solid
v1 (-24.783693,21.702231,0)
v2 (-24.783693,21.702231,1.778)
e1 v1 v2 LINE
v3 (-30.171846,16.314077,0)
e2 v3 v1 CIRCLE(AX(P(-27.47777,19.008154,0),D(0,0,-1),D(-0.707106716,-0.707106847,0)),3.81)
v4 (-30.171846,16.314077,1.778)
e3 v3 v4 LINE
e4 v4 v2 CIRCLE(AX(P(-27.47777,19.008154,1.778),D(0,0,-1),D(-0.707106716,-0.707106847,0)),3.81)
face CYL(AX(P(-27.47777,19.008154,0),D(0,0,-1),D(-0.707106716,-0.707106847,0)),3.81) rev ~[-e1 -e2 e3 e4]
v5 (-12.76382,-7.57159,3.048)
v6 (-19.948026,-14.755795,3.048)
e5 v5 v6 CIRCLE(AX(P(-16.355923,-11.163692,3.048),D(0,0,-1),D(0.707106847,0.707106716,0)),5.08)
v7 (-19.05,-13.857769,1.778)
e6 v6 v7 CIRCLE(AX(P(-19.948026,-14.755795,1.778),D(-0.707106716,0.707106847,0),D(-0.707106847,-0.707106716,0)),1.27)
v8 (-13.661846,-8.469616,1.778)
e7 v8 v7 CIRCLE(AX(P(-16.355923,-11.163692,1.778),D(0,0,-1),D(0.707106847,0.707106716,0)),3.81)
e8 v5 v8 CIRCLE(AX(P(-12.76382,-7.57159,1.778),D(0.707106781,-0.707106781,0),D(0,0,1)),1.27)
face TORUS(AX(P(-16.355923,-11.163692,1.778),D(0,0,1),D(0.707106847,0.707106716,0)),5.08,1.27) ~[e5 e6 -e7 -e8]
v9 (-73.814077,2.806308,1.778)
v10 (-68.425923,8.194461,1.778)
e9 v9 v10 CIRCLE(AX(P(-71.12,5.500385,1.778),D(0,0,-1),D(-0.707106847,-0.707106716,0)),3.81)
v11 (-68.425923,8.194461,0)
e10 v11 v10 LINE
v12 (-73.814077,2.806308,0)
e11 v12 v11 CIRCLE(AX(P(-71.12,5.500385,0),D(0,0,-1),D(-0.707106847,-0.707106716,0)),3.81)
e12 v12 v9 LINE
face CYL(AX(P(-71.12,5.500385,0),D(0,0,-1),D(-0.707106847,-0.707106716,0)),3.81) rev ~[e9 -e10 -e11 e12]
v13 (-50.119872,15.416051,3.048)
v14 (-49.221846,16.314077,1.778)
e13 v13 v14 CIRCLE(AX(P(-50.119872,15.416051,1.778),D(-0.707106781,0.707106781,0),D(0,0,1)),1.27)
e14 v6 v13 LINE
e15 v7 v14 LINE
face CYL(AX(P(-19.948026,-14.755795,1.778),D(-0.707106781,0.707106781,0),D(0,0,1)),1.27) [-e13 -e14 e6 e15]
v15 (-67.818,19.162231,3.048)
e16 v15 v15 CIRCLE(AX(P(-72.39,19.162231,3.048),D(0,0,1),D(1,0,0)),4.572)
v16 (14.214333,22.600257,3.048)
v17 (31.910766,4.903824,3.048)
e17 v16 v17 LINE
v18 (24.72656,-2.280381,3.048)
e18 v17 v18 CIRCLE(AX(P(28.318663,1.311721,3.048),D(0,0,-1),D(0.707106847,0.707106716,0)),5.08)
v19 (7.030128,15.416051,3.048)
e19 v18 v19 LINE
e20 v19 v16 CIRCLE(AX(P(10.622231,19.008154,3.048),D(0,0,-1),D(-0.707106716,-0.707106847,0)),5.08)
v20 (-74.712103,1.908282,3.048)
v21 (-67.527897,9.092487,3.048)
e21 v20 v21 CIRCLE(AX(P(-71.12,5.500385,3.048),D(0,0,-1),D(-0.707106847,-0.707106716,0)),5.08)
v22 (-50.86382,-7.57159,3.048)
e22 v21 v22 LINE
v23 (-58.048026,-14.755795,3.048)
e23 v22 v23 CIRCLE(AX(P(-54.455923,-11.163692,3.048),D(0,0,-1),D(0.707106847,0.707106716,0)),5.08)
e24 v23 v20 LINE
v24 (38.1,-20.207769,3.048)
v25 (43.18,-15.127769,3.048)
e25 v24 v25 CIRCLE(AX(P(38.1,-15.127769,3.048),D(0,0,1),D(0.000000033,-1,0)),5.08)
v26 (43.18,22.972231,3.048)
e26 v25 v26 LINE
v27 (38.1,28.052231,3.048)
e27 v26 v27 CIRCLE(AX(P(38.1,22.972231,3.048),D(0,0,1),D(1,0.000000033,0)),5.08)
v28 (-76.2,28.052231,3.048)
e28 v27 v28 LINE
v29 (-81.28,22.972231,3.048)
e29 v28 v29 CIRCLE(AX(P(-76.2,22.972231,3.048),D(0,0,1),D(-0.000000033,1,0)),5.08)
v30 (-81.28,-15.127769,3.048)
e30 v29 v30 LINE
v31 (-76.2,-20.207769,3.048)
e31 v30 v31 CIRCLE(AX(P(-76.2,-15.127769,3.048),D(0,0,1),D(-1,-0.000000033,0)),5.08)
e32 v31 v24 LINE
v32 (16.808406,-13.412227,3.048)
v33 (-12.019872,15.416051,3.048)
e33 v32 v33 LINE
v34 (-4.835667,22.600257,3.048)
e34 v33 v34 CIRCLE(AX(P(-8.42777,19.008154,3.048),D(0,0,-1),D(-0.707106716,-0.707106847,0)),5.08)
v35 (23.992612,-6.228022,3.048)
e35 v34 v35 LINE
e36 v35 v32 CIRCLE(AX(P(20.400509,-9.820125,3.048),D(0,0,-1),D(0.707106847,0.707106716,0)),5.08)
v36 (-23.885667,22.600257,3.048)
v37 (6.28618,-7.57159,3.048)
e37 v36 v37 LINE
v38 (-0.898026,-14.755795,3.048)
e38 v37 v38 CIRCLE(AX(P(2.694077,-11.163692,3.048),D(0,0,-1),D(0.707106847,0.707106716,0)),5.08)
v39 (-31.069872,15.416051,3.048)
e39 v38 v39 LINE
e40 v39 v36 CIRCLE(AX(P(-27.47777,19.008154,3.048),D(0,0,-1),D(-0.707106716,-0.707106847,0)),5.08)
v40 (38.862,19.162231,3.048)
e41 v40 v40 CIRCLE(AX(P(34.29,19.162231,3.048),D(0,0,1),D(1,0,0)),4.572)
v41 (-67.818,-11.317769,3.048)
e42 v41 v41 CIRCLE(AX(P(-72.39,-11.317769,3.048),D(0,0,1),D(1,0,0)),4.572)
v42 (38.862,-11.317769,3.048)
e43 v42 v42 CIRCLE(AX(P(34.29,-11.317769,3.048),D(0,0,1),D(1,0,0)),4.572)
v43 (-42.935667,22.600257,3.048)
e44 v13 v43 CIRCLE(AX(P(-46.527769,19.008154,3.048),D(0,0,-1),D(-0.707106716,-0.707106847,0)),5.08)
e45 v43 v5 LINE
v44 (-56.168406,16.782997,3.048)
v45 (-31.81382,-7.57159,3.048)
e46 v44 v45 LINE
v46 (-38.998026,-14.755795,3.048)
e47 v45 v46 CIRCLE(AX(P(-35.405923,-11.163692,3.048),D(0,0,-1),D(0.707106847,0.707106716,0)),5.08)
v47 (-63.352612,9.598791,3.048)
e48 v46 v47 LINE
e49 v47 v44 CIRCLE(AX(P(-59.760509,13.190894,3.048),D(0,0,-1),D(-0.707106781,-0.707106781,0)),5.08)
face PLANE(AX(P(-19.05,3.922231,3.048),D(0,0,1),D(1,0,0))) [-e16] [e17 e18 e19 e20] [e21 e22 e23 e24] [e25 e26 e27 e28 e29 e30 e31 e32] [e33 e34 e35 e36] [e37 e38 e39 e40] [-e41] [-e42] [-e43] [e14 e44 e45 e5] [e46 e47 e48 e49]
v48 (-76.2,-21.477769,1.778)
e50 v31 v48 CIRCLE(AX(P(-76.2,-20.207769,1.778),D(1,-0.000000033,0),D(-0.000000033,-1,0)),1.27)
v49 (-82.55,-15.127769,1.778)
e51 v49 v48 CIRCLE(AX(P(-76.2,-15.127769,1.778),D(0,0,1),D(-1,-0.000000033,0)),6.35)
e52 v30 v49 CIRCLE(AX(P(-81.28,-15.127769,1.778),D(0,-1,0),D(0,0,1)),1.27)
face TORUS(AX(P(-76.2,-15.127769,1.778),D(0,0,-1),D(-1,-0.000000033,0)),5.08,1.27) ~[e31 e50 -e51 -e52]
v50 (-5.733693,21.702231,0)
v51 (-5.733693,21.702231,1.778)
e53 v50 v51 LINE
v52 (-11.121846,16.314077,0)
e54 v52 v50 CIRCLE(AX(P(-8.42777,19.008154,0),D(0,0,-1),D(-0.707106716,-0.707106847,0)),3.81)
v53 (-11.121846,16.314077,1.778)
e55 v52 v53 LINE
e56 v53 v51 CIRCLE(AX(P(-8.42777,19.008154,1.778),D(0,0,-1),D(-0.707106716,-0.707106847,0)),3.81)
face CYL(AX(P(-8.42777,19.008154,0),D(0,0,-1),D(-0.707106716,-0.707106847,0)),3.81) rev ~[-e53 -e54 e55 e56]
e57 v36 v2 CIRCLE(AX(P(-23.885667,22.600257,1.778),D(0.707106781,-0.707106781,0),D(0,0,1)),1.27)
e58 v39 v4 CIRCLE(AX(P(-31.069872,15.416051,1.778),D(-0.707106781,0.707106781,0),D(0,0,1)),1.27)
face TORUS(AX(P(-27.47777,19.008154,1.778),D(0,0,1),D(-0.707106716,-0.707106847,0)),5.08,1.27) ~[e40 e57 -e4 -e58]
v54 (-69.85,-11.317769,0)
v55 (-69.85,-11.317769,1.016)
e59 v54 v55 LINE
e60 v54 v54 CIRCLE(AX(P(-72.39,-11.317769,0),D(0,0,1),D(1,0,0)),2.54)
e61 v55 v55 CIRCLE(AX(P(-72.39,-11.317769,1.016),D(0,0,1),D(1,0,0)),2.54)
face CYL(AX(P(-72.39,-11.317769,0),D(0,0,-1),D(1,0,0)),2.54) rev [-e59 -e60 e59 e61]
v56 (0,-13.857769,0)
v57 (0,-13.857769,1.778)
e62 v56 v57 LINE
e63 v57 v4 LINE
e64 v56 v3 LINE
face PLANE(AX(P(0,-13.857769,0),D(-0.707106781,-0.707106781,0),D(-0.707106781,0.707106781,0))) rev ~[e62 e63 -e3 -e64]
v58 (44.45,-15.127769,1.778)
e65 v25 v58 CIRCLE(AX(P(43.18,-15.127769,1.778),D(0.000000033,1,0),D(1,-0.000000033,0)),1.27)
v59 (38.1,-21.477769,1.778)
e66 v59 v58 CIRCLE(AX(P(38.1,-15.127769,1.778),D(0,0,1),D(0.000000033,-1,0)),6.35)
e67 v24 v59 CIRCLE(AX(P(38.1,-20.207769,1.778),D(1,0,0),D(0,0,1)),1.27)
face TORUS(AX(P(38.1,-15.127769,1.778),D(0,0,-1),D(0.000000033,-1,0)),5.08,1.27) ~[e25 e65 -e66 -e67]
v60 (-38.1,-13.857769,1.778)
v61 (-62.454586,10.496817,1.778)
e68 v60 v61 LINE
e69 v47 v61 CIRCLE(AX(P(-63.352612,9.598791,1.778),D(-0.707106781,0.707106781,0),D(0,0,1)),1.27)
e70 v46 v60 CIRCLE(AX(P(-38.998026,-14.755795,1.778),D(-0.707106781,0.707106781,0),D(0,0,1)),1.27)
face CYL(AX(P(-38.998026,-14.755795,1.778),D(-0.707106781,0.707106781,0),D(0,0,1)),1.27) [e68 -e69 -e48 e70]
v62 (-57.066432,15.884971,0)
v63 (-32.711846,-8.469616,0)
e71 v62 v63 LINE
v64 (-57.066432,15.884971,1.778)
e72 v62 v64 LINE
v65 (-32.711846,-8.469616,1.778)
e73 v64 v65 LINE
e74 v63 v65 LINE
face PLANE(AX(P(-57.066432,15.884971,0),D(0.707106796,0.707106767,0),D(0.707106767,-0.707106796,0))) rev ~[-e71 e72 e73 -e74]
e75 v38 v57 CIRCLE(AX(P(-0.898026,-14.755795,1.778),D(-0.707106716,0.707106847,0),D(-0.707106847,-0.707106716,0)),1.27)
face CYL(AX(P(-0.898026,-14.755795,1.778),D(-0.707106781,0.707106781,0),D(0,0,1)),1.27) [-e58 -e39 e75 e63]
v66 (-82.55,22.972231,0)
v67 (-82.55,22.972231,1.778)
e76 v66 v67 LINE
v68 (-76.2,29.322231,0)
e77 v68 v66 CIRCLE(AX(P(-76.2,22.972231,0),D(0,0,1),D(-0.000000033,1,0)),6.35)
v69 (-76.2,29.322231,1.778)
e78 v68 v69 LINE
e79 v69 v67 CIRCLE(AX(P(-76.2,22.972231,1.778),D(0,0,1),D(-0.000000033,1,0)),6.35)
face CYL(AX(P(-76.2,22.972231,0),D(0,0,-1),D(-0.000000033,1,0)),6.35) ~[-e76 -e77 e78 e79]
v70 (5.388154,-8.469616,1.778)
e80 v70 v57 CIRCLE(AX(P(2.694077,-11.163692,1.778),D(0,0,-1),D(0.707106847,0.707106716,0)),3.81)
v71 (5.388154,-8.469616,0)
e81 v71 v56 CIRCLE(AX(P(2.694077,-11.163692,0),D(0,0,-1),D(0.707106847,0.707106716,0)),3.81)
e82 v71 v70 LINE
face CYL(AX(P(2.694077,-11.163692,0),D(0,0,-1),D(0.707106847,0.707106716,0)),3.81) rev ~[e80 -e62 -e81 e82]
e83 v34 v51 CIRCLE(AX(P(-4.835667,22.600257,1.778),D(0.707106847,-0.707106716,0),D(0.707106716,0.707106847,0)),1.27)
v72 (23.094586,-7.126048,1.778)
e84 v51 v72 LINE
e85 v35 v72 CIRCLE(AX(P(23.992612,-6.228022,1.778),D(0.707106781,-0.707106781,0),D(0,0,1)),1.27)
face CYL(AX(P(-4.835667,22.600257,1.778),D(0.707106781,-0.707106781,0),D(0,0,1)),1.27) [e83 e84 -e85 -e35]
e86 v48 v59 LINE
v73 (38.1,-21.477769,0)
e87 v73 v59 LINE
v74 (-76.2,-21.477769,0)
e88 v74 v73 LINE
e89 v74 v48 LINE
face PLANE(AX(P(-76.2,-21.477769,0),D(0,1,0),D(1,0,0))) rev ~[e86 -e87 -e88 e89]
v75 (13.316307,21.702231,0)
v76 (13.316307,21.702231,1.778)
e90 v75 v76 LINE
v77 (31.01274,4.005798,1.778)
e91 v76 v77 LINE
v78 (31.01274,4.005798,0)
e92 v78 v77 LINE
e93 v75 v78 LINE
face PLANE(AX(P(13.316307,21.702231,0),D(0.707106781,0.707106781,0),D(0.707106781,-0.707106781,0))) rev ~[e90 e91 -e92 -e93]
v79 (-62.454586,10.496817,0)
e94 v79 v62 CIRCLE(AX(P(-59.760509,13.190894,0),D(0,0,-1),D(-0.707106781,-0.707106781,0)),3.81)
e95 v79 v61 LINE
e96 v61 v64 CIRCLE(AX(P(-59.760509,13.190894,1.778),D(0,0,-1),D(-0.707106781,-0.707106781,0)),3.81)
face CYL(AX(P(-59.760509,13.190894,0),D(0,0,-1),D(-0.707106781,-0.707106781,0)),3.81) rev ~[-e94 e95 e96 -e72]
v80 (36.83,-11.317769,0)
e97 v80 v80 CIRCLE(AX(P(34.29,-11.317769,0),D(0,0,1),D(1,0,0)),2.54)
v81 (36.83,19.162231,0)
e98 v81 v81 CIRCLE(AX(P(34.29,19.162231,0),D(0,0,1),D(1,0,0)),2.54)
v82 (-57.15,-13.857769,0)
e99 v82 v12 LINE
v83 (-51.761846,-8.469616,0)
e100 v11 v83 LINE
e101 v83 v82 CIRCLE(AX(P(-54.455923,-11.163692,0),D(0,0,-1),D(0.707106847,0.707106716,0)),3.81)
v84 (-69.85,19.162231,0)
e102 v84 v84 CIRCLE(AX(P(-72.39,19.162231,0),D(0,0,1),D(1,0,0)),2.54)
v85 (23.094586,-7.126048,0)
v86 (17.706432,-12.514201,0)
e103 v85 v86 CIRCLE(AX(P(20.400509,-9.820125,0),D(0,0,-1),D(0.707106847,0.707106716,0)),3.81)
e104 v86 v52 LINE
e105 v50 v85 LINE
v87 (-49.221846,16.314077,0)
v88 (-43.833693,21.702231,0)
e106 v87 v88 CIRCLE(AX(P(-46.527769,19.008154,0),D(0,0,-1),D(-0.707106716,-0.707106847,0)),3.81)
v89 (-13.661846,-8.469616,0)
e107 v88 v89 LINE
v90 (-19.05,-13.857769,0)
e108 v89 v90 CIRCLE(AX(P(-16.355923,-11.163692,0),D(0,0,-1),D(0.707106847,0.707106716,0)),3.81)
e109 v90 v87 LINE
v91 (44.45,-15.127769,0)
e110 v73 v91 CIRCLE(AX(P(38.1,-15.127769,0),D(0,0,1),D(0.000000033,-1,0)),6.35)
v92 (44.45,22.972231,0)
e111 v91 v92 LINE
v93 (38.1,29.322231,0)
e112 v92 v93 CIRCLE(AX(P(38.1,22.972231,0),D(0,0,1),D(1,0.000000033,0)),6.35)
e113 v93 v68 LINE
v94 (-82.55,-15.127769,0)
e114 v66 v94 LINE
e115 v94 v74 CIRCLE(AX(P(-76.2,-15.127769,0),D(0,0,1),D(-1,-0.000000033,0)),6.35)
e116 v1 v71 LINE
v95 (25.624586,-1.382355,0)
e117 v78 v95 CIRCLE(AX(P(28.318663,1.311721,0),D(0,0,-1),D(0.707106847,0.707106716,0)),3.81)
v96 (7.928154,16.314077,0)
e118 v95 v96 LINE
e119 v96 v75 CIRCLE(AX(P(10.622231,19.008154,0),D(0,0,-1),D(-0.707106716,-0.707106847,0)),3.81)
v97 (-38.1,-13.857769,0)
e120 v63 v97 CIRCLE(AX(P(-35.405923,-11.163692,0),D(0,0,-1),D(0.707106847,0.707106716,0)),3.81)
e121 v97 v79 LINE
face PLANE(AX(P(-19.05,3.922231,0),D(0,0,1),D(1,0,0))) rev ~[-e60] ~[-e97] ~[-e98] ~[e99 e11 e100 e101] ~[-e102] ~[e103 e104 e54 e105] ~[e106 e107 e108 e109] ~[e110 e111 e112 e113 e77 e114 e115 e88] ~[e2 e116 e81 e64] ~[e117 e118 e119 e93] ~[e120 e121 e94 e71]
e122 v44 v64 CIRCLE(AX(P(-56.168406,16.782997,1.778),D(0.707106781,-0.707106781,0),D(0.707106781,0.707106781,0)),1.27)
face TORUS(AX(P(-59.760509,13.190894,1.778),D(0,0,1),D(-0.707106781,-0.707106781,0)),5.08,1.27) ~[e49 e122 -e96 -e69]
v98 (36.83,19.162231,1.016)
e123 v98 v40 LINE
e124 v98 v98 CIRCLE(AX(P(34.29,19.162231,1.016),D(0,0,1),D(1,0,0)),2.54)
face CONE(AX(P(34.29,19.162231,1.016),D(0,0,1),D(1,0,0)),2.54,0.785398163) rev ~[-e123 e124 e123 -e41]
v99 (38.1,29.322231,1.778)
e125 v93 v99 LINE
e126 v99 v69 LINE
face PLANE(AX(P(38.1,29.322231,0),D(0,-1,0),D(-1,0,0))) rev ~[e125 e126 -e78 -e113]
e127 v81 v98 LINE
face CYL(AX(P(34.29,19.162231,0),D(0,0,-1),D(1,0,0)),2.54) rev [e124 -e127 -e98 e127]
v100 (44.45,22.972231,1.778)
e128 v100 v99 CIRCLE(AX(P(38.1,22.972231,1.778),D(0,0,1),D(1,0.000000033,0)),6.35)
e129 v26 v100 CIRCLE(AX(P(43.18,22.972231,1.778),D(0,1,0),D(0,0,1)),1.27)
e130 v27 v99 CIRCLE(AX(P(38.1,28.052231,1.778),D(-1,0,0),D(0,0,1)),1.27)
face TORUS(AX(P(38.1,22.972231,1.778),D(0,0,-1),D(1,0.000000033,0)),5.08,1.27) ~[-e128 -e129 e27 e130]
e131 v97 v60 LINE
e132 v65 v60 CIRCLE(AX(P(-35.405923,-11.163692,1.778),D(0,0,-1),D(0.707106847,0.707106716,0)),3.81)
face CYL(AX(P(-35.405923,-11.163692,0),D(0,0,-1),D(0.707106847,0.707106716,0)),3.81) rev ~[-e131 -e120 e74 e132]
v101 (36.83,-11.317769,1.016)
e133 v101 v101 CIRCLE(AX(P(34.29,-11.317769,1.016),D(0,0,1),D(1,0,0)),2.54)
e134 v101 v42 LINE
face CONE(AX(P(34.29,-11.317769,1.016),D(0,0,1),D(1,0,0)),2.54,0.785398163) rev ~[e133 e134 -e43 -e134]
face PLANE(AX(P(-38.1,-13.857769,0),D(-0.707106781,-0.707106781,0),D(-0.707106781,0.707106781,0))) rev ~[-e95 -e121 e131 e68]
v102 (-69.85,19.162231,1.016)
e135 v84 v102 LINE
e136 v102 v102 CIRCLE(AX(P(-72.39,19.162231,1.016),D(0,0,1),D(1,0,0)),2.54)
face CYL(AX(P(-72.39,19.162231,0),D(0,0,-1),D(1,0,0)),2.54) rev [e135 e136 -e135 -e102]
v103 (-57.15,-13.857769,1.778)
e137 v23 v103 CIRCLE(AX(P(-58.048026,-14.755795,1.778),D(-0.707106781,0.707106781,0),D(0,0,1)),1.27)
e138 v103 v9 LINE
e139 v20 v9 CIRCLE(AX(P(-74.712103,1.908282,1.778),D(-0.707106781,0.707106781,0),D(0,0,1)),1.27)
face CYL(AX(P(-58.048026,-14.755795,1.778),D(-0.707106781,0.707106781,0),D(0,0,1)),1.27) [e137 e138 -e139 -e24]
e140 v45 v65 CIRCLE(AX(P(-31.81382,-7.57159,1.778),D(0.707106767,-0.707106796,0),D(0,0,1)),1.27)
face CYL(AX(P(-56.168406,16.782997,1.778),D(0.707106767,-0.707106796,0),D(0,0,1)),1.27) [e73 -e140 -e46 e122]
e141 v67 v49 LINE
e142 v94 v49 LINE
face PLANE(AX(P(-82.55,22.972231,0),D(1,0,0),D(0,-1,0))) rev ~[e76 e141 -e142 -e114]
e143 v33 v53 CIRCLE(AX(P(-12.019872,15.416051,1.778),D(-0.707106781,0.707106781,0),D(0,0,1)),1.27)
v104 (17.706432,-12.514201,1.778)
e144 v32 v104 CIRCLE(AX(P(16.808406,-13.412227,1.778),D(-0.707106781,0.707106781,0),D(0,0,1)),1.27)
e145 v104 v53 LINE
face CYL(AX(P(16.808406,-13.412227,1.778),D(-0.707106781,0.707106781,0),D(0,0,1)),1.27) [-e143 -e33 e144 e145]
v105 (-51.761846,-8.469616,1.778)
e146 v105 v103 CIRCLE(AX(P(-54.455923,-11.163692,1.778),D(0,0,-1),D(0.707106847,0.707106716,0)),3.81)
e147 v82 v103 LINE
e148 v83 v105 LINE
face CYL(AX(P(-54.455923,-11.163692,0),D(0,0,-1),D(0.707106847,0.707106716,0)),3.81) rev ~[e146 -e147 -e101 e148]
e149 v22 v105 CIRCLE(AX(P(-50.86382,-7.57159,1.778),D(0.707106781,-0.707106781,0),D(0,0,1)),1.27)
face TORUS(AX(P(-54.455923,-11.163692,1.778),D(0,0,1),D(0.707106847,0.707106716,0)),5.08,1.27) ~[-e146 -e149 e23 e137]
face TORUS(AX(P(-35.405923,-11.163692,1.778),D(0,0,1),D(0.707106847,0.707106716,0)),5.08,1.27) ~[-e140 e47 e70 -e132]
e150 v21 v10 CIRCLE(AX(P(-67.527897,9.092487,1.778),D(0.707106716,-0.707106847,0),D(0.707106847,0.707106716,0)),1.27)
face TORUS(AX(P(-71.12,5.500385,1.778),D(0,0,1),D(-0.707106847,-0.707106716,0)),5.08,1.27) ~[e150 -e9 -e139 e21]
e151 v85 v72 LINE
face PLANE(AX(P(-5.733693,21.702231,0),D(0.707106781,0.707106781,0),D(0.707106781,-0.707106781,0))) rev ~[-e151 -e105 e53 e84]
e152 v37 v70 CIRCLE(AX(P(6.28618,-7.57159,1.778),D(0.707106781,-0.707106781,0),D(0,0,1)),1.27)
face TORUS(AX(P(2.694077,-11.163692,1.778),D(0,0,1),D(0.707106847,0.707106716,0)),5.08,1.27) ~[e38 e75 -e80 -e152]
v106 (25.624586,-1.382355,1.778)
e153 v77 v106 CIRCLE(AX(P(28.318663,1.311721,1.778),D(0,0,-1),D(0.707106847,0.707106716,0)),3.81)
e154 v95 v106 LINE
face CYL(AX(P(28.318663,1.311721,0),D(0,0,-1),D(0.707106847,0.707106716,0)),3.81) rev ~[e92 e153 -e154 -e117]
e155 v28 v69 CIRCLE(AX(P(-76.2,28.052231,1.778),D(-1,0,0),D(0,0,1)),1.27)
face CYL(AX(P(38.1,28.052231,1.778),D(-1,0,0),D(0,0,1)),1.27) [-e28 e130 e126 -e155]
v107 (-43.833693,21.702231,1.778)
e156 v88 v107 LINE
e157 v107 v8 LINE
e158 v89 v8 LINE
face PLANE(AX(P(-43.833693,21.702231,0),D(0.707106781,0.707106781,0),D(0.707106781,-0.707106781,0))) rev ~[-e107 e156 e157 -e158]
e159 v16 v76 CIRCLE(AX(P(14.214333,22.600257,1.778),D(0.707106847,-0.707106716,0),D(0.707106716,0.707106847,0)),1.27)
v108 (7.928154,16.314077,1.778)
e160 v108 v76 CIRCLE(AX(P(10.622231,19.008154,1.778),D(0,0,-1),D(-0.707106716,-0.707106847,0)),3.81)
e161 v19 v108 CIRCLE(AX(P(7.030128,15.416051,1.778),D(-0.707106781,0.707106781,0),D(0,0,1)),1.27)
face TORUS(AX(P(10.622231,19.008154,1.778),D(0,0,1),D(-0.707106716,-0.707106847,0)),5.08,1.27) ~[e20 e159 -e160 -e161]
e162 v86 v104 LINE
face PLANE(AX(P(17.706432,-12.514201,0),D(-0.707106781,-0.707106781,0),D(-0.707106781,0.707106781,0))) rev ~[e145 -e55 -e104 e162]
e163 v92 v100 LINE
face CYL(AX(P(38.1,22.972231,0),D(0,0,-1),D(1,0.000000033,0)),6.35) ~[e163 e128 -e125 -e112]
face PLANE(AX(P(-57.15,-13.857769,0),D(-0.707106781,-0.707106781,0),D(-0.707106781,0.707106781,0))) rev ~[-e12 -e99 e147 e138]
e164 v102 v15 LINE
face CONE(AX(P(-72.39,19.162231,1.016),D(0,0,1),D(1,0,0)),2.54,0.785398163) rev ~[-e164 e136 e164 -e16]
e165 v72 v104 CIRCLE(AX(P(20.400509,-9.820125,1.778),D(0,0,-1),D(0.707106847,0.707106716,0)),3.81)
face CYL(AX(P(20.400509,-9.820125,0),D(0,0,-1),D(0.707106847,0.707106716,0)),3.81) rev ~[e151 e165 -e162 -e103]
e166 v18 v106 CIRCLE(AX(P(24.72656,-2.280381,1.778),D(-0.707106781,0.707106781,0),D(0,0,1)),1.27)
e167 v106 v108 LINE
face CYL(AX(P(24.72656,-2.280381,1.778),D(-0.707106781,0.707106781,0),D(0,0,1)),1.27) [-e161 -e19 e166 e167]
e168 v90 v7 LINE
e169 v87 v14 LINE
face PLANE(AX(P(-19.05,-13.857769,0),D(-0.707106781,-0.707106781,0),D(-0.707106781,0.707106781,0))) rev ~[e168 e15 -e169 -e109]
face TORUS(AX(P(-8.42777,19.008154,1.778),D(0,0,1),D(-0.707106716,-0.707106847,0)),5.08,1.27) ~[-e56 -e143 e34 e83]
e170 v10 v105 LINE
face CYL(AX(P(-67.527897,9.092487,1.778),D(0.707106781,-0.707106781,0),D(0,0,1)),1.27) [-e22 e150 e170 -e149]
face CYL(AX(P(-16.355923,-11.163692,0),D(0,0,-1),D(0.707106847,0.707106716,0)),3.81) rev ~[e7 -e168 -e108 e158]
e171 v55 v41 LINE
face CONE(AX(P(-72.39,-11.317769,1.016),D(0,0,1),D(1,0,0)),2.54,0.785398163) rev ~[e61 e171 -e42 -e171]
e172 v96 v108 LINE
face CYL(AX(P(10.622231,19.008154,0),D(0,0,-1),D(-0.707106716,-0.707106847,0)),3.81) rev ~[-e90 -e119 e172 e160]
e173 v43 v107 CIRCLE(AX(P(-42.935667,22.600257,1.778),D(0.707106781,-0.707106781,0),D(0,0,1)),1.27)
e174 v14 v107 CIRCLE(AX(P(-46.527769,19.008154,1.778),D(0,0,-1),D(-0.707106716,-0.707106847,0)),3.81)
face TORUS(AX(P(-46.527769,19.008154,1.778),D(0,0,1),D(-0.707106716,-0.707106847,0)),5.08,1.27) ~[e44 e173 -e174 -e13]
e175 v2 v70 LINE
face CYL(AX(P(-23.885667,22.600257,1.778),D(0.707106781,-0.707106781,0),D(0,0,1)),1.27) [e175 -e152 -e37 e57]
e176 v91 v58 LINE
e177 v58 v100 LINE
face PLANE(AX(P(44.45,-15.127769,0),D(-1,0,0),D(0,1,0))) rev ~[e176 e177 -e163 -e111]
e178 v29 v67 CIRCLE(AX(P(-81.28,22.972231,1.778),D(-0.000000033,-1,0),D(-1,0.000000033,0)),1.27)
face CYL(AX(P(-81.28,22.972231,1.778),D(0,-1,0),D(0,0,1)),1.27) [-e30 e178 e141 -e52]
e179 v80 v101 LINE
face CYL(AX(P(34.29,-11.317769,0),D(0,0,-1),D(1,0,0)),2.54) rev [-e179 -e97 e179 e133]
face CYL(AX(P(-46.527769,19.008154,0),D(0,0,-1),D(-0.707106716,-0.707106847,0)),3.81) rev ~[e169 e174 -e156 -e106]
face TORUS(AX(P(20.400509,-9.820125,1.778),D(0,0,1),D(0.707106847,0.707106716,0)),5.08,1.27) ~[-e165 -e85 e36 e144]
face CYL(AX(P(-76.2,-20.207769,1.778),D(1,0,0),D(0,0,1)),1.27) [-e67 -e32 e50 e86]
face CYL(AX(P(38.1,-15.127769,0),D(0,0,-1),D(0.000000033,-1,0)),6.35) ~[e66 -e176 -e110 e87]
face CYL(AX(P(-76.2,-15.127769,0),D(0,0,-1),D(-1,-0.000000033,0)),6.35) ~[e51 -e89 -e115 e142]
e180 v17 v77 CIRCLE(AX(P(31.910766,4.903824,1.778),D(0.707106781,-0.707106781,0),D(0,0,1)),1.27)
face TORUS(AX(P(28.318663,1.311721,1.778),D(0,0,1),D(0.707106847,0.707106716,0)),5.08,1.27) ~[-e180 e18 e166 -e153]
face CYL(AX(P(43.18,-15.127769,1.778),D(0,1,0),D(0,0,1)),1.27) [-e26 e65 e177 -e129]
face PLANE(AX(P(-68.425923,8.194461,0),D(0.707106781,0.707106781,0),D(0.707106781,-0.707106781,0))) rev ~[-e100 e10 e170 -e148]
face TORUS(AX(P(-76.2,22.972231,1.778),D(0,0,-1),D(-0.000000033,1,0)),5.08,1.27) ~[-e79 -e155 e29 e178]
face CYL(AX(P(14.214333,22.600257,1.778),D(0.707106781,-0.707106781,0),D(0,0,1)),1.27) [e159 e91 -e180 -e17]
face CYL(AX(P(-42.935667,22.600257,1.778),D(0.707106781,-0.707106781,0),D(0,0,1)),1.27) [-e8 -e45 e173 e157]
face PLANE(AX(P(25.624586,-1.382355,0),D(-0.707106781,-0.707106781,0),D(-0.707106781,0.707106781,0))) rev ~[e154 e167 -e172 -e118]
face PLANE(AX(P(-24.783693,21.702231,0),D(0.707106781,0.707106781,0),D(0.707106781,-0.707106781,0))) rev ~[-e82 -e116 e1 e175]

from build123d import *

# Parameters (mm, degrees)
F0_R     = 2.54
F1_DEPTH = 3.048
F2_SIZE  = 2.032
F3_R     = 1.27


with BuildPart() as f1:
    # F0 (on Top) → F1 (new body)
    with BuildSketch(Plane.XY):
        with BuildLine():
            Line((38.1, 29.322231), (-76.2, 29.322231))
            ThreePointArc((-76.2, 29.322231), (-80.690128, 27.462359), (-82.55, 22.972231))
            Line((-82.55, 22.972231), (-82.55, -15.127769))
            ThreePointArc((-82.55, -15.127769), (-80.690128, -19.617897), (-76.2, -21.477769))
            Line((-76.2, -21.477769), (38.1, -21.477769))
            ThreePointArc((38.1, -21.477769), (42.590128, -19.617897), (44.45, -15.127769))
            Line((44.45, -15.127769), (44.45, 22.972231))
            ThreePointArc((44.45, 22.972231), (42.590128, 27.462359), (38.1, 29.322231))
        make_face()
        with Locations((-72.39, -11.317769)):
            Circle(F0_R, mode=Mode.SUBTRACT)
        with BuildLine():
            ThreePointArc((-73.814077, 2.806308), (-73.814077, 8.194461), (-68.425923, 8.194461))
            Line((-68.425923, 8.194461), (-51.761846, -8.469616))
            ThreePointArc((-51.761846, -8.469616), (-51.761846, -13.857769), (-57.15, -13.857769))
            Line((-57.15, -13.857769), (-73.814077, 2.806308))
        make_face(mode=Mode.SUBTRACT)
        with BuildLine():
            ThreePointArc((-62.454586, 10.496817), (-62.454586, 15.884971), (-57.066432, 15.884971))
            Line((-57.066432, 15.884971), (-32.711846, -8.469616))
            ThreePointArc((-32.711846, -8.469616), (-32.711846, -13.857769), (-38.1, -13.857769))
            Line((-38.1, -13.857769), (-62.454586, 10.496817))
        make_face(mode=Mode.SUBTRACT)
        with Locations((34.29, -11.317769)):
            Circle(F0_R, mode=Mode.SUBTRACT)
        with BuildLine():
            ThreePointArc((-30.171846, 16.314077), (-30.171846, 21.702231), (-24.783693, 21.702231))
            Line((-24.783693, 21.702231), (5.388154, -8.469616))
            ThreePointArc((5.388154, -8.469616), (5.388154, -13.857769), (0, -13.857769))
            Line((0, -13.857769), (-30.171846, 16.314077))
        make_face(mode=Mode.SUBTRACT)
        with BuildLine():
            ThreePointArc((-49.221846, 16.314077), (-49.221846, 21.702231), (-43.833693, 21.702231))
            Line((-43.833693, 21.702231), (-13.661846, -8.469616))
            ThreePointArc((-13.661846, -8.469616), (-13.661846, -13.857769), (-19.05, -13.857769))
            Line((-19.05, -13.857769), (-49.221846, 16.314077))
        make_face(mode=Mode.SUBTRACT)
        with Locations((-72.39, 19.162231)):
            Circle(F0_R, mode=Mode.SUBTRACT)
        with BuildLine():
            ThreePointArc((-11.121846, 16.314077), (-11.121846, 21.702231), (-5.733693, 21.702231))
            Line((-5.733693, 21.702231), (23.094586, -7.126048))
            ThreePointArc((23.094586, -7.126048), (23.094586, -12.514201), (17.706432, -12.514201))
            Line((17.706432, -12.514201), (-11.121846, 16.314077))
        make_face(mode=Mode.SUBTRACT)
        with BuildLine():
            ThreePointArc((7.928154, 16.314077), (7.928154, 21.702231), (13.316307, 21.702231))
            Line((13.316307, 21.702231), (31.01274, 4.005798))
            ThreePointArc((31.01274, 4.005798), (31.01274, -1.382355), (25.624586, -1.382355))
            Line((25.624586, -1.382355), (7.928154, 16.314077))
        make_face(mode=Mode.SUBTRACT)
        with Locations((34.29, 19.162231)):
            Circle(F0_R, mode=Mode.SUBTRACT)
    extrude(amount=F1_DEPTH)

    # F2
    f2_edges = [f1.edges().sort_by_distance(p)[0] for p in [
        (31.75, 19.162231, 3.048),
        (31.75, -11.317769, 3.048),
        (-74.93, 19.162231, 3.048),
        (-74.93, -11.317769, 3.048),
    ]]
    chamfer(f2_edges, length=F2_SIZE)

    # F3
    f3_edges = [f1.edges().sort_by_distance(p)[0] for p in [
        (-19.05, 29.322231, 3.048),
        (-28.747769, 6.616308, 3.048),
        (-9.697769, 6.616308, 3.048),
        (3.292293, 1.899938, 3.048),
        (16.77637, 7.465861, 3.048),
        (-50.277293, -1.680476, 3.048),
        (-65.482038, -5.525731, 3.048),
    ]]
    fillet(f3_edges, radius=F3_R)


solid = f1.part
